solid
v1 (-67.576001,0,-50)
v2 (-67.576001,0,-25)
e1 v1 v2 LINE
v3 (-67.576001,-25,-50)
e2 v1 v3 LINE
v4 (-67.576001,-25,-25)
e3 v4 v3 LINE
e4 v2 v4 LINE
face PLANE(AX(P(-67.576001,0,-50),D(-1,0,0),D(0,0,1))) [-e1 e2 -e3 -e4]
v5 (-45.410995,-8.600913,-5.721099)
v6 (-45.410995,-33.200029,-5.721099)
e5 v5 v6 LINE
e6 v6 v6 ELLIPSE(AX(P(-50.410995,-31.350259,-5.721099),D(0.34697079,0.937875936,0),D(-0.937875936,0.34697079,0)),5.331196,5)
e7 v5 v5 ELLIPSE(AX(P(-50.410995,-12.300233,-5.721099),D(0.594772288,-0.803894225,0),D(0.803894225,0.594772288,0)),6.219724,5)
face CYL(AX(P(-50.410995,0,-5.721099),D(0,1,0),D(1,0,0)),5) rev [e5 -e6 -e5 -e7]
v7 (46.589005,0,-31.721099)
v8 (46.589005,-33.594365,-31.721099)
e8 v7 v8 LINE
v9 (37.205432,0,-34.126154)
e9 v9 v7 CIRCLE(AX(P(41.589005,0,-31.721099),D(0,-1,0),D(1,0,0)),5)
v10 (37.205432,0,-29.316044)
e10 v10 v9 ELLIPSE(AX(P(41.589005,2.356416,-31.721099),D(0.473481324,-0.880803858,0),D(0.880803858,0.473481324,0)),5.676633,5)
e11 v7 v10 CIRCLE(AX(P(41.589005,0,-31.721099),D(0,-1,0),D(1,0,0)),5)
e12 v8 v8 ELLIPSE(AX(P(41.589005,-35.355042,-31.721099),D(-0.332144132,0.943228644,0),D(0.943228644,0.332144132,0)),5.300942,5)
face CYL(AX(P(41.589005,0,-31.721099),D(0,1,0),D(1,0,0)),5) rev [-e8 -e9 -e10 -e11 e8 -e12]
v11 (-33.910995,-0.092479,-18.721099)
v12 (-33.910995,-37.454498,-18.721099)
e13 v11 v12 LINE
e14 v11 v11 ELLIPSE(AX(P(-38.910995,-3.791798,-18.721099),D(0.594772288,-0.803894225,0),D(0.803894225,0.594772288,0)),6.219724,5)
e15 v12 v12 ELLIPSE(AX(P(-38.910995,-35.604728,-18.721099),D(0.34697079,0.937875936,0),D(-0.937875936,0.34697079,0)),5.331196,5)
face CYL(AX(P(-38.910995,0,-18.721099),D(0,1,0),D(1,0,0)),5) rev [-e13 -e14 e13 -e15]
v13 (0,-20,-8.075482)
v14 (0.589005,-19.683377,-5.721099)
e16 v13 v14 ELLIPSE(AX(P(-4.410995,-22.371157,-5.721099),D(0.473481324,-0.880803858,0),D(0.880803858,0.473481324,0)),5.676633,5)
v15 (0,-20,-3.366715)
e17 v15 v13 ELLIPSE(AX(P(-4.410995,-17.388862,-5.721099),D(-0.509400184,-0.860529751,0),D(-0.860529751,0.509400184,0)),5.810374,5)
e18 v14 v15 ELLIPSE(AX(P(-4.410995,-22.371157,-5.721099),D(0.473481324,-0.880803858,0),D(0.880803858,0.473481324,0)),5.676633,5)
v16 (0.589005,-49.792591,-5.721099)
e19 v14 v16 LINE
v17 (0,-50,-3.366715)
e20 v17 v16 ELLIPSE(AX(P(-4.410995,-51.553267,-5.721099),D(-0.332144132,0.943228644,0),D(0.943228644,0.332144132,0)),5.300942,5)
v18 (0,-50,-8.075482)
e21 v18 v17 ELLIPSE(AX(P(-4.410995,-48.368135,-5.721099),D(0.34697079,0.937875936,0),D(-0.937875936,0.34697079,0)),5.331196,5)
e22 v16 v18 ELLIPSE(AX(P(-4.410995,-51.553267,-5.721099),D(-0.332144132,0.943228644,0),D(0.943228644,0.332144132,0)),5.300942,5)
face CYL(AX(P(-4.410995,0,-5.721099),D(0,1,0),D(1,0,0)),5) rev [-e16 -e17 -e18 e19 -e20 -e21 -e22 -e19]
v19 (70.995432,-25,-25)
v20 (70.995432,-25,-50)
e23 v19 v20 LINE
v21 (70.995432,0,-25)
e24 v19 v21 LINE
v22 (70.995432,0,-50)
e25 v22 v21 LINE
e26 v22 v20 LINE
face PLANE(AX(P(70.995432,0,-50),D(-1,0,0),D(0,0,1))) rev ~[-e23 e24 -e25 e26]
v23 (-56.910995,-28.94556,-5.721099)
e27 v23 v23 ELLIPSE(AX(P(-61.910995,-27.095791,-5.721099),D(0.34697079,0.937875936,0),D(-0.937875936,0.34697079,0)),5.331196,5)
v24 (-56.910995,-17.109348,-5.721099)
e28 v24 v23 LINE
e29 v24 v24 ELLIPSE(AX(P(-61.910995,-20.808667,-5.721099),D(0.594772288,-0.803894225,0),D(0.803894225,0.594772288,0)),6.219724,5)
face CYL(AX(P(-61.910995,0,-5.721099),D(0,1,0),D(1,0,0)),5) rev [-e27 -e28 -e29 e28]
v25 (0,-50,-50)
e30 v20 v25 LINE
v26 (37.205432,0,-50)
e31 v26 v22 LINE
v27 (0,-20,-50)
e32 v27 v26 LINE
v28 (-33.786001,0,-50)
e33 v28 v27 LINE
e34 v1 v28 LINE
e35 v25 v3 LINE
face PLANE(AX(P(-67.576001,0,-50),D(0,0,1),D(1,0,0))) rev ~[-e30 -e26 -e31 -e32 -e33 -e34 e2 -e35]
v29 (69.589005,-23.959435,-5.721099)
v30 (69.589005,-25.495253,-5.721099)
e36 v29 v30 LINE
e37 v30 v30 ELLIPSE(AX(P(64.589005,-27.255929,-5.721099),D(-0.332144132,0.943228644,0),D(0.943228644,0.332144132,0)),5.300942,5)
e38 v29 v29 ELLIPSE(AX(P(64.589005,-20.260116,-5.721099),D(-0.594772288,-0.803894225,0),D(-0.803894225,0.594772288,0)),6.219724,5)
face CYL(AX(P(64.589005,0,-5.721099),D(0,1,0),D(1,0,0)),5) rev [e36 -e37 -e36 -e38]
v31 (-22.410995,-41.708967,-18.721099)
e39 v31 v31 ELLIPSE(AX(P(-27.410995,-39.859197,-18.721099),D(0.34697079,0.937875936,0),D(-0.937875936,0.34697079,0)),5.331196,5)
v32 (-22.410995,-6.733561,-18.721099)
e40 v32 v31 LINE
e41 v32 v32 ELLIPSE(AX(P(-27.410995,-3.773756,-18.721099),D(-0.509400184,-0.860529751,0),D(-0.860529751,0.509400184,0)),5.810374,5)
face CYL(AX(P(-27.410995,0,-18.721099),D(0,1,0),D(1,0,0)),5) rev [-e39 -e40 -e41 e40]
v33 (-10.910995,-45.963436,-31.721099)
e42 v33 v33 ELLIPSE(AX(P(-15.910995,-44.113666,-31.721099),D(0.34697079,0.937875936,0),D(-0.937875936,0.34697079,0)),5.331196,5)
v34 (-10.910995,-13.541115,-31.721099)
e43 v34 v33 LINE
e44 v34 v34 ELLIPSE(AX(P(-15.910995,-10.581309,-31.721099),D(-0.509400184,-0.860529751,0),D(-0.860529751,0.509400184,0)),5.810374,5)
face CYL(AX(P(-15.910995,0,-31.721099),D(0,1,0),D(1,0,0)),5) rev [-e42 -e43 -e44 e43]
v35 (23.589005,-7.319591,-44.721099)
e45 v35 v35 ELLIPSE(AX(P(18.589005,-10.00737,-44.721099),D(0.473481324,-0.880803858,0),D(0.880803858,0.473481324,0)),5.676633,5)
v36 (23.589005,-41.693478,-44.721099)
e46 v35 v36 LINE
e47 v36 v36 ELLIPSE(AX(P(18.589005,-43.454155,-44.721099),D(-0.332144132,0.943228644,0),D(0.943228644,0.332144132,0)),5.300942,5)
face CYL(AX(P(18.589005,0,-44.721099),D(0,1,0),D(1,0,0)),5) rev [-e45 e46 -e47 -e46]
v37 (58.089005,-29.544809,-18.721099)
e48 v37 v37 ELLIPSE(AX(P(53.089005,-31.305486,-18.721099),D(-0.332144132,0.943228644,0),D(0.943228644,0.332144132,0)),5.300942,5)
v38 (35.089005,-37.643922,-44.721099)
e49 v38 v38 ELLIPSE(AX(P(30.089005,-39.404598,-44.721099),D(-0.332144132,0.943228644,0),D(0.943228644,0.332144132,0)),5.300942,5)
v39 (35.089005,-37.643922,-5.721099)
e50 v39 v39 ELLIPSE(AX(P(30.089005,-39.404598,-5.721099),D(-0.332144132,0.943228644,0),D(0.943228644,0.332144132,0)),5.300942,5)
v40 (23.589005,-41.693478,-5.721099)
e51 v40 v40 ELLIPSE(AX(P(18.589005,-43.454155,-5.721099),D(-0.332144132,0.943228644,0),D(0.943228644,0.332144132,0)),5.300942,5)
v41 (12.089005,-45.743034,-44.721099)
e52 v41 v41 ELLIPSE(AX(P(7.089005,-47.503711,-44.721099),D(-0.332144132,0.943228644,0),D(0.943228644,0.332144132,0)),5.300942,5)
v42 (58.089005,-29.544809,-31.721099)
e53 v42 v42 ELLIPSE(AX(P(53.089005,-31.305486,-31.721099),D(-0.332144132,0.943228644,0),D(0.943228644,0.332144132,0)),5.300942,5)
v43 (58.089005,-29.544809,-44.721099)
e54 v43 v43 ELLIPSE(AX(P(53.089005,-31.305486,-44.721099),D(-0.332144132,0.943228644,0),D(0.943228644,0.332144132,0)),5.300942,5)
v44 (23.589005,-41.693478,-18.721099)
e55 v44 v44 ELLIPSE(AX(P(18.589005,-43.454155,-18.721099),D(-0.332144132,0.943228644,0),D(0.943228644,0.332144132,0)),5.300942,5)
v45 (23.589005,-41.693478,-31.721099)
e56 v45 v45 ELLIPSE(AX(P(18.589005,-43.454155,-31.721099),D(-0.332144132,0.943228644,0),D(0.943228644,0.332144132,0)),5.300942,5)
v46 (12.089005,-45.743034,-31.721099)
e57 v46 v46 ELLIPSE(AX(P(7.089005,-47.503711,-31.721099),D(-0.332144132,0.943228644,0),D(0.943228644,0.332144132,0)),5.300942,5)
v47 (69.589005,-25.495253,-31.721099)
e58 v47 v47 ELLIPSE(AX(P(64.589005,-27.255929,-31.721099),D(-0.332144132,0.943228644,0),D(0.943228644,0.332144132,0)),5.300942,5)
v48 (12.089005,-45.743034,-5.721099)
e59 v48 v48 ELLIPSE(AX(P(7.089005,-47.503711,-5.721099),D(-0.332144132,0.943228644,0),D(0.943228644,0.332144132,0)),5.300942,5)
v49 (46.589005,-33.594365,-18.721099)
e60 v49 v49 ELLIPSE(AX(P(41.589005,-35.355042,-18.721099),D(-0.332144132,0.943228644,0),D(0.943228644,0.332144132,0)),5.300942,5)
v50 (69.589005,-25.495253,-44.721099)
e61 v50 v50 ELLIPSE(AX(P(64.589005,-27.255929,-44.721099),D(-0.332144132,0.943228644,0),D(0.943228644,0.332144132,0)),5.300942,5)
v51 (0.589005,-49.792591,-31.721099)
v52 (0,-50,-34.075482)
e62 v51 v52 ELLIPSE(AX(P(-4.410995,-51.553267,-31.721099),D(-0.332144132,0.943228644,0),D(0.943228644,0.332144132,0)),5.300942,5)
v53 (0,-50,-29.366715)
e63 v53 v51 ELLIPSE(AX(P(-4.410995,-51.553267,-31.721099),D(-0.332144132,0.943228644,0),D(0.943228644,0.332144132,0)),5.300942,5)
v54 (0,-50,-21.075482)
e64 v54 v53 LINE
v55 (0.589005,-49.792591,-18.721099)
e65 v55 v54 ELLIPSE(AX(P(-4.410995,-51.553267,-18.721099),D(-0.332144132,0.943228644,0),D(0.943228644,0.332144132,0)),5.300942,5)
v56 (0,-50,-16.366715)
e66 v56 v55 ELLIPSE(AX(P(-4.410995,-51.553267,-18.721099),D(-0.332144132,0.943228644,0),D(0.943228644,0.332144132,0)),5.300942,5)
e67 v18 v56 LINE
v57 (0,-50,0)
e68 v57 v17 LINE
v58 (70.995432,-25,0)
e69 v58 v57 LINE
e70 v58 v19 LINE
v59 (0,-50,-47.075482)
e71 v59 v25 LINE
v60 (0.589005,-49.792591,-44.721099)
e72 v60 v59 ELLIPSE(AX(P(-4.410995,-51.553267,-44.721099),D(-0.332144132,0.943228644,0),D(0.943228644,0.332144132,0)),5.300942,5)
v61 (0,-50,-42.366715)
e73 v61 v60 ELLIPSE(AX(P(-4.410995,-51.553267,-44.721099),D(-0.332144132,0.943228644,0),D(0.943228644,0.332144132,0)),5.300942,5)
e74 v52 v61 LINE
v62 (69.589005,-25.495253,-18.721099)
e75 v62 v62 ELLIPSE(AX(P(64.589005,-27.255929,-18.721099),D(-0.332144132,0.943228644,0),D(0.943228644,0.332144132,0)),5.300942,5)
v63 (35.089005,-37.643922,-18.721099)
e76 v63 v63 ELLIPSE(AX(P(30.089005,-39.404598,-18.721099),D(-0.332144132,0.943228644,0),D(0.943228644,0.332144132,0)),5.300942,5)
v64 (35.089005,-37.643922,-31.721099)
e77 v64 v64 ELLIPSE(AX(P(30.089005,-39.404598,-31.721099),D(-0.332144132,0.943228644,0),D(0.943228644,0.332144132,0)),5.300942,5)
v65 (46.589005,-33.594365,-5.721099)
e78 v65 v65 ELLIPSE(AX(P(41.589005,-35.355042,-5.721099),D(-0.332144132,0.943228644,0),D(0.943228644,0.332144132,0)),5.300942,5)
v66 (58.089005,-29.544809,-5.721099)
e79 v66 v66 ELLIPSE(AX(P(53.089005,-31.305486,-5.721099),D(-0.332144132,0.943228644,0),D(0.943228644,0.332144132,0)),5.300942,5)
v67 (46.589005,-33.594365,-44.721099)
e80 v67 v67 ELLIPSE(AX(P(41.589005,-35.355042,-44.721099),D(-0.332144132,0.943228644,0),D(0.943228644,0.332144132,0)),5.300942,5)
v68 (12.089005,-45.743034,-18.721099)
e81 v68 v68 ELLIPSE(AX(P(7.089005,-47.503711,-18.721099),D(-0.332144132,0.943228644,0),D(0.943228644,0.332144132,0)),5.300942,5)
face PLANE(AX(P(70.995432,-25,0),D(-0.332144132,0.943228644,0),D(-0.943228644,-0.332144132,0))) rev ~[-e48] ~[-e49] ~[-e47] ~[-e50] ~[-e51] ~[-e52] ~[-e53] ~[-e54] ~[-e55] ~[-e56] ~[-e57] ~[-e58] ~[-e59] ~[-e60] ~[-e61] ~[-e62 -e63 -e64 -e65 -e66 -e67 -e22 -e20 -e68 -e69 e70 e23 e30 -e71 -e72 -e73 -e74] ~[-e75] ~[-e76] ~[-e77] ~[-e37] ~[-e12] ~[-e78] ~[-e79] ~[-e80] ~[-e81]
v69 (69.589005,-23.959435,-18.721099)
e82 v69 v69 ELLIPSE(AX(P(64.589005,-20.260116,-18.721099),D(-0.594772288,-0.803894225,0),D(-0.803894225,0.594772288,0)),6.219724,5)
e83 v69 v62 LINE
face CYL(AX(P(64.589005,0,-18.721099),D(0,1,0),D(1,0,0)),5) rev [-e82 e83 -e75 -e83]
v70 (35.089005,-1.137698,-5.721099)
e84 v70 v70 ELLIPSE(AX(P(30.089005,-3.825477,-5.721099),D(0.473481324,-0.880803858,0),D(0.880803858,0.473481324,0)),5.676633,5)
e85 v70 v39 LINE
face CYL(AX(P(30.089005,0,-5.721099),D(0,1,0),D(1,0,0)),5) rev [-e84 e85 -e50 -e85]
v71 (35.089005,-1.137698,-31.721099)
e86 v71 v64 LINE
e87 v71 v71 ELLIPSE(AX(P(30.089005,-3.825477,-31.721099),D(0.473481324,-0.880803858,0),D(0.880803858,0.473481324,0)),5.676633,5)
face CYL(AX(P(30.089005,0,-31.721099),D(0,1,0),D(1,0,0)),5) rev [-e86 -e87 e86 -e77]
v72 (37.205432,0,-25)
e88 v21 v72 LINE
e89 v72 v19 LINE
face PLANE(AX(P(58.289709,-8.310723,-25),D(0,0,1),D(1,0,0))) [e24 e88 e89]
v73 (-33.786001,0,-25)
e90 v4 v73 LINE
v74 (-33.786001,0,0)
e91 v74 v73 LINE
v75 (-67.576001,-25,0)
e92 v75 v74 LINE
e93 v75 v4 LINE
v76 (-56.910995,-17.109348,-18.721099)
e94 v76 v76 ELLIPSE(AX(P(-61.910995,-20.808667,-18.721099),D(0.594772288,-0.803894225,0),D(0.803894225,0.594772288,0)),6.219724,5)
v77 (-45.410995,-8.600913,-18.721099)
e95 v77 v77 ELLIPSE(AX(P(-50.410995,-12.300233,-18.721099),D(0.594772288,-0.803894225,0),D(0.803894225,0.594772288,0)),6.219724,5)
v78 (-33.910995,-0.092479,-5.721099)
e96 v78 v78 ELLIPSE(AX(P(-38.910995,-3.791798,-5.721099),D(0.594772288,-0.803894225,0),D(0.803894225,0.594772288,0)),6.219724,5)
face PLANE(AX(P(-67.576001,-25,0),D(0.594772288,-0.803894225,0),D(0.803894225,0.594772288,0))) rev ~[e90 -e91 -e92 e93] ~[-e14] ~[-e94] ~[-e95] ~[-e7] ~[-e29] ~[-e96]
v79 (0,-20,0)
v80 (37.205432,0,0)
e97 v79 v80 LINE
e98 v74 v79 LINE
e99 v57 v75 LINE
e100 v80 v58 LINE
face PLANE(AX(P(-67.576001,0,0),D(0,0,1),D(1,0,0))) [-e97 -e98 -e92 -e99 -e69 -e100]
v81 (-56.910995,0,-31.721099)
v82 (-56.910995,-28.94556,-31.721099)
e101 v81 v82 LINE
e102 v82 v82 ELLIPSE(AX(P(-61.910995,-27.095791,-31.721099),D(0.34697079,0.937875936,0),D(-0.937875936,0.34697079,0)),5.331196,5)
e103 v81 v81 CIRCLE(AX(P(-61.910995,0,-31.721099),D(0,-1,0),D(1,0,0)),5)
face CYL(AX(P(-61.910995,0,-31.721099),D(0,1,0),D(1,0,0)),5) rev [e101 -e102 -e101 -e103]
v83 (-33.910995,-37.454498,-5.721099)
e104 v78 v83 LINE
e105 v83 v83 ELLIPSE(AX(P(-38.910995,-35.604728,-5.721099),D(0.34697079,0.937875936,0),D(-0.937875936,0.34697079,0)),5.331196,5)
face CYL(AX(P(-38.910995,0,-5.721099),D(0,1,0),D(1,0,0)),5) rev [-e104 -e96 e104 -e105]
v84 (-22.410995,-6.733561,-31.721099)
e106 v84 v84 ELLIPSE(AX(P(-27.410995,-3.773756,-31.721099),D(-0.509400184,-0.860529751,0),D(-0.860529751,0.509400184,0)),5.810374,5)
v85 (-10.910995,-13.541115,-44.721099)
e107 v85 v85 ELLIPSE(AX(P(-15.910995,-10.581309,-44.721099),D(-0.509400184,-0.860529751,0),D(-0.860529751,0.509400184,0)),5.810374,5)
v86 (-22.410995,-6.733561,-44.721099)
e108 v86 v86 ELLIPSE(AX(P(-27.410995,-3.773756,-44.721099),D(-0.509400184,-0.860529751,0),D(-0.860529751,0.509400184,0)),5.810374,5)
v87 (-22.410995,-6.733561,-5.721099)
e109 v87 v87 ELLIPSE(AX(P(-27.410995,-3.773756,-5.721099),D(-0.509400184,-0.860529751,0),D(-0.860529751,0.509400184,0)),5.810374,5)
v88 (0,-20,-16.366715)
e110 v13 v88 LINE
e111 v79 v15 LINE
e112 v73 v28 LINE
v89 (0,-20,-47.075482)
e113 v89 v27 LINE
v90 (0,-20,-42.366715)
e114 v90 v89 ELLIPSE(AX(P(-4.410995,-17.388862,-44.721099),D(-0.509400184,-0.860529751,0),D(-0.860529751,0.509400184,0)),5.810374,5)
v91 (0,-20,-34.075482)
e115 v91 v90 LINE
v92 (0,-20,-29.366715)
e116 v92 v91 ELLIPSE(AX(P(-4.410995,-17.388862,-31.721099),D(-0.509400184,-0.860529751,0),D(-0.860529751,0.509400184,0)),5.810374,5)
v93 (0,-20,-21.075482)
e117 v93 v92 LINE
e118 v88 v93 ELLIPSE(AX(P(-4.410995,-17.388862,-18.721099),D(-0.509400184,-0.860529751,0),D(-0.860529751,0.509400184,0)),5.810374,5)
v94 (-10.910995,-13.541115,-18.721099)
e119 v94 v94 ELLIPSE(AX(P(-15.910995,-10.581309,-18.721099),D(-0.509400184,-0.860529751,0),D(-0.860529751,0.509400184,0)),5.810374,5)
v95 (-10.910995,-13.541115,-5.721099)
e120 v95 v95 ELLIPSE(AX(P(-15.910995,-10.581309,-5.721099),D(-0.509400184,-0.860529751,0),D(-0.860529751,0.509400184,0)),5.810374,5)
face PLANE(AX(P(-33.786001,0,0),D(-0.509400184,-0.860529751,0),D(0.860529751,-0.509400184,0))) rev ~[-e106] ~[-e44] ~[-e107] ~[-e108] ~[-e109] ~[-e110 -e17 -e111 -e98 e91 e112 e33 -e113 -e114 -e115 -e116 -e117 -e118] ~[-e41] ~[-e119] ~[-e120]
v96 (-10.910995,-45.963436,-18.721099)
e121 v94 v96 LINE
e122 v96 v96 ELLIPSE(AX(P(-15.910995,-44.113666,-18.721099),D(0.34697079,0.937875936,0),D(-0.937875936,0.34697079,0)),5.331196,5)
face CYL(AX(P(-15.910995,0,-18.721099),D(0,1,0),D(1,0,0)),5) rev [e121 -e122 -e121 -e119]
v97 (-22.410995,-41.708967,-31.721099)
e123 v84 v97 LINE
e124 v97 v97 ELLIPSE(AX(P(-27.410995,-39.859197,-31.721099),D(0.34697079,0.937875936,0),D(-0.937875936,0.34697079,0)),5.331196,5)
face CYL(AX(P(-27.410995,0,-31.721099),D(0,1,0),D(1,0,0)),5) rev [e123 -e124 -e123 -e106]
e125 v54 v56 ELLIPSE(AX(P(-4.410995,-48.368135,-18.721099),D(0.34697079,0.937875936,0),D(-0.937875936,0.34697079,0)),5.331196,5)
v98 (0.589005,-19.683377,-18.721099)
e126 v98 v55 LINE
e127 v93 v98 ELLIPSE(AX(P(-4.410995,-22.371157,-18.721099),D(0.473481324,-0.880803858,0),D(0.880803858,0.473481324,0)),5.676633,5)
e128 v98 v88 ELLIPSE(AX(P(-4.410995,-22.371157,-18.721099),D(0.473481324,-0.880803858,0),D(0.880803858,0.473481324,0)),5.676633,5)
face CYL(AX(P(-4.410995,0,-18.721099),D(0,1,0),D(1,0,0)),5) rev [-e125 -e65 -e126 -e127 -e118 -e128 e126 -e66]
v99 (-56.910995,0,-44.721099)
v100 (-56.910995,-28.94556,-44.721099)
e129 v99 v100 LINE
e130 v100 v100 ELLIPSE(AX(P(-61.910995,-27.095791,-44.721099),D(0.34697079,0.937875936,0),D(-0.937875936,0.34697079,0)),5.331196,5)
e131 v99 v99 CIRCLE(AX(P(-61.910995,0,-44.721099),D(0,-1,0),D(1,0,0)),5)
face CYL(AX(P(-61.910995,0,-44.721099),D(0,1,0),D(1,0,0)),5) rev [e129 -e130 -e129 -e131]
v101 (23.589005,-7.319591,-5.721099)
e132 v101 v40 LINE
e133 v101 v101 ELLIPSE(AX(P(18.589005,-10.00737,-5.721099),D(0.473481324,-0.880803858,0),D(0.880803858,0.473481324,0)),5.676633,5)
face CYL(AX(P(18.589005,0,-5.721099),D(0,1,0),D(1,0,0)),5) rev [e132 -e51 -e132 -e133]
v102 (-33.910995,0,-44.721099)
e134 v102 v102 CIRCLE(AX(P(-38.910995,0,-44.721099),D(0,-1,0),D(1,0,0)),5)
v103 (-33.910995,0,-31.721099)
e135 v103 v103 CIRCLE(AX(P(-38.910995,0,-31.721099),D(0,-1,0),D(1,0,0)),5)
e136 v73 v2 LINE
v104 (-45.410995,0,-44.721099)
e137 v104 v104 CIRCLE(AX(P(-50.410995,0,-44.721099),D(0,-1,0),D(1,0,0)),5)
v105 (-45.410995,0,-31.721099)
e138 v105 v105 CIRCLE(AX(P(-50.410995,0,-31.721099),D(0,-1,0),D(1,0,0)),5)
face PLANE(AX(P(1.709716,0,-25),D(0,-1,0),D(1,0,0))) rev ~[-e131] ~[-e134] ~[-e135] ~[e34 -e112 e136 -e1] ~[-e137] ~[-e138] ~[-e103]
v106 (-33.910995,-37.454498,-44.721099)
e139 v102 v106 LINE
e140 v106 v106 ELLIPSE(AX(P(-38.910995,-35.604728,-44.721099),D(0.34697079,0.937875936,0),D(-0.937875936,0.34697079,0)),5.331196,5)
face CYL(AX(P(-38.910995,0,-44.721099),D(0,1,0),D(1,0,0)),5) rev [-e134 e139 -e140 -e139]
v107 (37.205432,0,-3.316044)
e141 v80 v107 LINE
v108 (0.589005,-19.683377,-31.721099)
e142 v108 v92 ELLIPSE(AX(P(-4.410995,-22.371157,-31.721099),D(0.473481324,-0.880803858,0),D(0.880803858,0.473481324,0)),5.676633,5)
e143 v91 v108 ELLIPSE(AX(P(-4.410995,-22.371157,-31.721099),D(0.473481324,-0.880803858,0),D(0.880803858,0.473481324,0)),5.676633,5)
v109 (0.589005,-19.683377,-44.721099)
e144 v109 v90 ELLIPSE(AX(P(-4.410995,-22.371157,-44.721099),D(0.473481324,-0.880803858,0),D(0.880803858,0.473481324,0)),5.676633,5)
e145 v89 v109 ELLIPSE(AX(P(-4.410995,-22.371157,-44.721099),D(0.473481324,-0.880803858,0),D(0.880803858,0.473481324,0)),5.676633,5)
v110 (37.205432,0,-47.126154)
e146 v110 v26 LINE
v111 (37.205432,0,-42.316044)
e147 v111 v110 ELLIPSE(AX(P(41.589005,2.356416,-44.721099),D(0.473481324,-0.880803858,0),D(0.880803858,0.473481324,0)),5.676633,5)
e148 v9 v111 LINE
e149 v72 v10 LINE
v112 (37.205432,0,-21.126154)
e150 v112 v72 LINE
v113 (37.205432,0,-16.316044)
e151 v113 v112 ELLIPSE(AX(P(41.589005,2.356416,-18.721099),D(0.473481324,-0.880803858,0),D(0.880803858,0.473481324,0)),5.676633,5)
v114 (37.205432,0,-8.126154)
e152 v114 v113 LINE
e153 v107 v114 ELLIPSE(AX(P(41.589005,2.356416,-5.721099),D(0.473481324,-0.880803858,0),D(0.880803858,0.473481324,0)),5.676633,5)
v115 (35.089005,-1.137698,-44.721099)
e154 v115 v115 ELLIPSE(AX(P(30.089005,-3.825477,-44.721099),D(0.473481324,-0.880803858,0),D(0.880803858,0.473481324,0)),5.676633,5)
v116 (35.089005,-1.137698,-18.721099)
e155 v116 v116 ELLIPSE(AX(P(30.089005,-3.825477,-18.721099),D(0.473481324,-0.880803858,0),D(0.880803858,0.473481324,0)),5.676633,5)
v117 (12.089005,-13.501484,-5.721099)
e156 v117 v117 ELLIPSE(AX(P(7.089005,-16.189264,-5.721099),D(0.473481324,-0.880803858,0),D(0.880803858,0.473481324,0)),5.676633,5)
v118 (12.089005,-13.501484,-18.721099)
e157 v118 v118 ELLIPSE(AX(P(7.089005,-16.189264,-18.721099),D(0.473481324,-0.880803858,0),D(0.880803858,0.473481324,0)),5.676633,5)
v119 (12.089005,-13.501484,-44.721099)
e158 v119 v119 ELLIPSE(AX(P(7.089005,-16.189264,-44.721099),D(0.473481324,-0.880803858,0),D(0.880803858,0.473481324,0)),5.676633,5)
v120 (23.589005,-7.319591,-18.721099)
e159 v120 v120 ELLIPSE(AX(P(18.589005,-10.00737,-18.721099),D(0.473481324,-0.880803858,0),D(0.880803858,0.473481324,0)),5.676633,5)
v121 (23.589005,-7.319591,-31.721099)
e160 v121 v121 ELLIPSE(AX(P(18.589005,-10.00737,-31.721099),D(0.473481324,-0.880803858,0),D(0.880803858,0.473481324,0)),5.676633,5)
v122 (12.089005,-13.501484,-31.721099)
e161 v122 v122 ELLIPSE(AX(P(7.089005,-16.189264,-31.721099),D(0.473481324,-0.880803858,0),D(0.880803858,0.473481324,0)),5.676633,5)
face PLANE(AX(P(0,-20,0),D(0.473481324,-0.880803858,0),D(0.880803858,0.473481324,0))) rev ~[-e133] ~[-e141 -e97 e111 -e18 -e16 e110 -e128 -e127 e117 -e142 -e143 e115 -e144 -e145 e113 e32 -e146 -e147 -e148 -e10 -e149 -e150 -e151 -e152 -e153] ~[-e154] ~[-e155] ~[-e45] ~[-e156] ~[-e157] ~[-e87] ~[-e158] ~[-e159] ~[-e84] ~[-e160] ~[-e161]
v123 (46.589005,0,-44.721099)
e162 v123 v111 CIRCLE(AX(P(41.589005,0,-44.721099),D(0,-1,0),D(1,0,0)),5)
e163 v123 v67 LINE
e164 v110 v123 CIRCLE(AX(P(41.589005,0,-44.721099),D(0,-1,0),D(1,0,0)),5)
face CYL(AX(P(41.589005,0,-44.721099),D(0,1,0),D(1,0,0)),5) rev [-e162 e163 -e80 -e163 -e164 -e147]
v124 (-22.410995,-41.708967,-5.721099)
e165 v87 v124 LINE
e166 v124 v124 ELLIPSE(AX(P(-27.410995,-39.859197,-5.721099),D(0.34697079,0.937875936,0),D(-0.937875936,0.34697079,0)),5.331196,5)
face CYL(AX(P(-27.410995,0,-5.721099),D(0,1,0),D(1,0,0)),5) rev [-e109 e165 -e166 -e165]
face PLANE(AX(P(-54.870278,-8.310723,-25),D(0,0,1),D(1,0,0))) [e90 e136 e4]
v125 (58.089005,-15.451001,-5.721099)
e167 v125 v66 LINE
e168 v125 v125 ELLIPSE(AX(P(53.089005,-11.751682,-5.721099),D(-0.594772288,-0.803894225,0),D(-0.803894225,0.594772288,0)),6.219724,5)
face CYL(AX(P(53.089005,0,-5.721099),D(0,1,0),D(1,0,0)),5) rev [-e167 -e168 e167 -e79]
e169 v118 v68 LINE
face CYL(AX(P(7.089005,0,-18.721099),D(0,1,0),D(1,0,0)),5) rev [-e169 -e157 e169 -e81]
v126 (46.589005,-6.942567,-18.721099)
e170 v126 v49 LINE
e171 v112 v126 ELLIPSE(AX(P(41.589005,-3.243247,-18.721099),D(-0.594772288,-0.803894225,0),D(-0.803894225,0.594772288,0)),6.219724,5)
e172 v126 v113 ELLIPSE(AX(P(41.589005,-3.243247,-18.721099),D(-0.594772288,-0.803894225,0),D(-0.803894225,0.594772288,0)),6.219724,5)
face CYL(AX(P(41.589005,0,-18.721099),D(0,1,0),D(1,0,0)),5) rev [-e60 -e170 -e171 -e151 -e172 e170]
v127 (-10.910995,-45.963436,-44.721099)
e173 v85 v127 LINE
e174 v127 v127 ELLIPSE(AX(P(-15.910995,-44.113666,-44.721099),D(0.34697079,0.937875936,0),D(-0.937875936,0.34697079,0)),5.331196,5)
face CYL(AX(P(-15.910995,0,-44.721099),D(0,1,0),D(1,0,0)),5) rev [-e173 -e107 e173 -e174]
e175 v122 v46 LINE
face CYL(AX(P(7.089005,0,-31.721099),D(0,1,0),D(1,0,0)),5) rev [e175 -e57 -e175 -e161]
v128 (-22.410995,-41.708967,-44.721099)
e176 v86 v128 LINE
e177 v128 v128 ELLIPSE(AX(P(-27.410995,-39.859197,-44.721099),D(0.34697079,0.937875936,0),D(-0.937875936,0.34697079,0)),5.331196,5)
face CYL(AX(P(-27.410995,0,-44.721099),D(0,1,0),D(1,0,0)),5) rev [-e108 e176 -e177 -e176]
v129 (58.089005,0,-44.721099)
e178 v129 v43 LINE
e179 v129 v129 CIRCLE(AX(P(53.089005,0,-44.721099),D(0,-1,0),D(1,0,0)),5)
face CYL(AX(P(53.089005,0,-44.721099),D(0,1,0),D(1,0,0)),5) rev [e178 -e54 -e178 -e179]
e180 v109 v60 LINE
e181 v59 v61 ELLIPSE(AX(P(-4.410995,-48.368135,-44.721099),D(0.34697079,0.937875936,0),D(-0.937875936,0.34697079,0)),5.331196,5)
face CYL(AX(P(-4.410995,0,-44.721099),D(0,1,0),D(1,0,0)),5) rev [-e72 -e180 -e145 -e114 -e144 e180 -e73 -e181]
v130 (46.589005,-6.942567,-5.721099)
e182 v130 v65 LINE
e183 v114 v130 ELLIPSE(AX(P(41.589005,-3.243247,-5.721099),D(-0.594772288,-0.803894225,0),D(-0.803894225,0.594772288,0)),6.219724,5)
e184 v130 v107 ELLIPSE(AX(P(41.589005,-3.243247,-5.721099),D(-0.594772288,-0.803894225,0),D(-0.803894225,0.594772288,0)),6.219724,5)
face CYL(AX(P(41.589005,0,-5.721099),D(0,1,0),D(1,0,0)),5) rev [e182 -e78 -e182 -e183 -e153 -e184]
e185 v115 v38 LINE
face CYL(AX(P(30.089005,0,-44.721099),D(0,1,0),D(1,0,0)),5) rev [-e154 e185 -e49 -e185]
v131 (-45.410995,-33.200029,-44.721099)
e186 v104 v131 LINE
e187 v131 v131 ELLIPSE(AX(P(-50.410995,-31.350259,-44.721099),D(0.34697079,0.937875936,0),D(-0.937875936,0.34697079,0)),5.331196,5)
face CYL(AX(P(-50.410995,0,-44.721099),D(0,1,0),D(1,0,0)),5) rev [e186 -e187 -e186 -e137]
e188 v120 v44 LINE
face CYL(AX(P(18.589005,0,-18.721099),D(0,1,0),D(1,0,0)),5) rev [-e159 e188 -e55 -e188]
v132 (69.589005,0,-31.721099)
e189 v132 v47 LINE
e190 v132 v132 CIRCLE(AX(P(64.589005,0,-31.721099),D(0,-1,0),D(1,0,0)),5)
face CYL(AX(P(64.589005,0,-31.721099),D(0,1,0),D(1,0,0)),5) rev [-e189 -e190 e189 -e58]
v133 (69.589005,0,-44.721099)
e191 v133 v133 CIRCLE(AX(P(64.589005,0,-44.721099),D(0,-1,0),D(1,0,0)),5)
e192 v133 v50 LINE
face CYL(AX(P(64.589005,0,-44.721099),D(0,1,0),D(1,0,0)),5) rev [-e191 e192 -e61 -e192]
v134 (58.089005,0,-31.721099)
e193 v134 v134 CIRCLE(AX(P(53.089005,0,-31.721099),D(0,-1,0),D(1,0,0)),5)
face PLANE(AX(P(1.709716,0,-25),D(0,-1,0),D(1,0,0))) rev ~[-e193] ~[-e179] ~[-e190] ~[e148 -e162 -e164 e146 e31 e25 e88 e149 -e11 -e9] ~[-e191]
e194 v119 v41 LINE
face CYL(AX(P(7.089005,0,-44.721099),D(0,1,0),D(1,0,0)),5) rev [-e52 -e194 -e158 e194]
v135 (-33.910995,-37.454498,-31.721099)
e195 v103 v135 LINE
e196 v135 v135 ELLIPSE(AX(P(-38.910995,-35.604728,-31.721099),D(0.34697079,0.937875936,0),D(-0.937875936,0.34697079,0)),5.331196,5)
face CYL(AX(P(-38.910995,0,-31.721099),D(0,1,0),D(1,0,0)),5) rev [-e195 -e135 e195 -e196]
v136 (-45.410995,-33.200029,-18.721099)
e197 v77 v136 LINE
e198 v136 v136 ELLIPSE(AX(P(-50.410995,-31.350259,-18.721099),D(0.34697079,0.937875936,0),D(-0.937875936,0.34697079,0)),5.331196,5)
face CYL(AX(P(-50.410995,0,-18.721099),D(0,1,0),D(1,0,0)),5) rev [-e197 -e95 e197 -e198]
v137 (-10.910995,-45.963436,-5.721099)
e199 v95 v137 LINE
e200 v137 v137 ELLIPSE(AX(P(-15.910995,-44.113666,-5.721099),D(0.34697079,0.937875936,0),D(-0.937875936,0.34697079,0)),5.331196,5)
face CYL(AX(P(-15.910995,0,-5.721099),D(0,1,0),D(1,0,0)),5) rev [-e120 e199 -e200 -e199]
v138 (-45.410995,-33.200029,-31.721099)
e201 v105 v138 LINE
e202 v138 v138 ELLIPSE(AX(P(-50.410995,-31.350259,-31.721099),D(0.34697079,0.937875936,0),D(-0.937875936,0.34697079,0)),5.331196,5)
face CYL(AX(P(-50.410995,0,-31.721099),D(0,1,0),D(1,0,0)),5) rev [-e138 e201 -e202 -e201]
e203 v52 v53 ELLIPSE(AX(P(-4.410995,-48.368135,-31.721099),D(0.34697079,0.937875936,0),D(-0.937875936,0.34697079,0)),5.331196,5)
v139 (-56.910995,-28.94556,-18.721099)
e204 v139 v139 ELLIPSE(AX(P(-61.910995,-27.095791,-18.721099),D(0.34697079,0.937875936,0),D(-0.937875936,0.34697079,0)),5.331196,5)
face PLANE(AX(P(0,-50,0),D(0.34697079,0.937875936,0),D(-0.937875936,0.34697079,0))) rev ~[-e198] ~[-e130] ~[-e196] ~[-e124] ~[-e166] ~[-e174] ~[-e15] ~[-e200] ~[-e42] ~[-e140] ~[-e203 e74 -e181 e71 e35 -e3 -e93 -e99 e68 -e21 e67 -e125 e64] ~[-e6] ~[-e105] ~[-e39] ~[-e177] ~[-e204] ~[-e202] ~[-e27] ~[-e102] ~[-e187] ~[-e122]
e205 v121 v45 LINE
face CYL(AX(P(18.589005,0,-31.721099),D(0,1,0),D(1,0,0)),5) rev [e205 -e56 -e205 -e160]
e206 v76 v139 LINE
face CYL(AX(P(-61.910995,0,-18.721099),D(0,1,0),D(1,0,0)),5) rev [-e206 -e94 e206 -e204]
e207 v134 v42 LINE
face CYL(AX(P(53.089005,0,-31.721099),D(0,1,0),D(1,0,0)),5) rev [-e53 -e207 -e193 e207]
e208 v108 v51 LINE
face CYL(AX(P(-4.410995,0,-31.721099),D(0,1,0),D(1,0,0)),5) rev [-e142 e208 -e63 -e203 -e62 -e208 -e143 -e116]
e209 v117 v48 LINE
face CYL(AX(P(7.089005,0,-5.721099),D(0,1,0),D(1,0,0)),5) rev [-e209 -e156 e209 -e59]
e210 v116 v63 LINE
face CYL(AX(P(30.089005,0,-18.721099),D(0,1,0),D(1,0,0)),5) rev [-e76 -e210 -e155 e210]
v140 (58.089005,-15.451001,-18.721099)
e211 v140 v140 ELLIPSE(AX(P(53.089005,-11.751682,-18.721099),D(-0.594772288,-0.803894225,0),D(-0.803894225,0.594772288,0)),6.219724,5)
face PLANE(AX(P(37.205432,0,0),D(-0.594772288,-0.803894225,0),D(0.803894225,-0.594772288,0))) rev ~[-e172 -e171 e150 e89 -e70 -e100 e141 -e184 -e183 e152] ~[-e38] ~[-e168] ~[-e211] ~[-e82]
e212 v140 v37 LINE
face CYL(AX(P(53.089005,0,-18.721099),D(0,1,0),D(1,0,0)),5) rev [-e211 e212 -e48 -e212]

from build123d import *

# Parameters (mm, degrees)
F0_W     = 138.5714327227
F0_H     = 50
F1_DEPTH = 50
F2_R     = 5
F3_DEPTH = 50.001
F5_DEPTH = 50.001
F7_DEPTH = 50.001
F9_DEPTH = 25


with BuildPart() as f1:
    # F0 (on Front) → F1 (new body)
    with BuildSketch(Plane.XZ):
        with Locations((1.709715571, -25)):
            Rectangle(F0_W, F0_H)
    extrude(amount=F1_DEPTH)

    # F2 (on face) → F3 (cut, through all)
    with BuildSketch(Plane.XZ):
        with Locations((-61.9109951626, -5.7210989713)):
            Circle(F2_R)
        with Locations((-61.9109951626, -18.7210989713)):
            Circle(F2_R)
        with Locations((-61.9109951626, -31.7210989713)):
            Circle(F2_R)
        with Locations((-61.9109951626, -44.7210989713)):
            Circle(F2_R)
        with Locations((-50.4109951626, -5.7210989713)):
            Circle(F2_R)
        with Locations((-50.4109951626, -18.7210989713)):
            Circle(F2_R)
        with Locations((-50.4109951626, -31.7210989713)):
            Circle(F2_R)
        with Locations((-50.4109951626, -44.7210989713)):
            Circle(F2_R)
        with Locations((-38.9109951626, -5.7210989713)):
            Circle(F2_R)
        with Locations((-38.9109951626, -18.7210989713)):
            Circle(F2_R)
        with Locations((-38.9109951626, -31.7210989713)):
            Circle(F2_R)
        with Locations((-38.9109951626, -44.7210989713)):
            Circle(F2_R)
        with Locations((-27.4109951626, -5.7210989713)):
            Circle(F2_R)
        with Locations((-27.4109951626, -18.7210989713)):
            Circle(F2_R)
        with Locations((-27.4109951626, -31.7210989713)):
            Circle(F2_R)
        with Locations((-27.4109951626, -44.7210989713)):
            Circle(F2_R)
        with Locations((-15.9109951626, -5.7210989713)):
            Circle(F2_R)
        with Locations((-15.9109951626, -18.7210989713)):
            Circle(F2_R)
        with Locations((-15.9109951626, -31.7210989713)):
            Circle(F2_R)
        with Locations((-15.9109951626, -44.7210989713)):
            Circle(F2_R)
        with Locations((-4.4109951626, -5.7210989713)):
            Circle(F2_R)
        with Locations((-4.4109951626, -18.7210989713)):
            Circle(F2_R)
        with Locations((-4.4109951626, -31.7210989713)):
            Circle(F2_R)
        with Locations((-4.4109951626, -44.7210989713)):
            Circle(F2_R)
        with Locations((7.0890048374, -5.7210989713)):
            Circle(F2_R)
        with Locations((7.0890048374, -18.7210989713)):
            Circle(F2_R)
        with Locations((7.0890048374, -31.7210989713)):
            Circle(F2_R)
        with Locations((7.0890048374, -44.7210989713)):
            Circle(F2_R)
        with Locations((18.5890048374, -5.7210989713)):
            Circle(F2_R)
        with Locations((18.5890048374, -18.7210989713)):
            Circle(F2_R)
        with Locations((18.5890048374, -31.7210989713)):
            Circle(F2_R)
        with Locations((18.5890048374, -44.7210989713)):
            Circle(F2_R)
        with Locations((30.0890048374, -5.7210989713)):
            Circle(F2_R)
        with Locations((30.0890048374, -18.7210989713)):
            Circle(F2_R)
        with Locations((30.0890048374, -31.7210989713)):
            Circle(F2_R)
        with Locations((30.0890048374, -44.7210989713)):
            Circle(F2_R)
        with Locations((41.5890048374, -5.7210989713)):
            Circle(F2_R)
        with Locations((41.5890048374, -18.7210989713)):
            Circle(F2_R)
        with Locations((41.5890048374, -31.7210989713)):
            Circle(F2_R)
        with Locations((41.5890048374, -44.7210989713)):
            Circle(F2_R)
        with Locations((53.0890048374, -5.7210989713)):
            Circle(F2_R)
        with Locations((53.0890048374, -18.7210989713)):
            Circle(F2_R)
        with Locations((53.0890048374, -31.7210989713)):
            Circle(F2_R)
        with Locations((53.0890048374, -44.7210989713)):
            Circle(F2_R)
        with Locations((64.5890048374, -5.7210989713)):
            Circle(F2_R)
        with Locations((64.5890048374, -18.7210989713)):
            Circle(F2_R)
        with Locations((64.5890048374, -31.7210989713)):
            Circle(F2_R)
        with Locations((64.5890048374, -44.7210989713)):
            Circle(F2_R)
    extrude(amount=F3_DEPTH, mode=Mode.SUBTRACT)

    # F4 (on face) → F5 (cut, through all)
    with BuildSketch(Plane.XY):
        Polygon((37.2054319323, 0), (-33.7860007904, 0), (0, -20), align=None)
    extrude(amount=-F5_DEPTH, mode=Mode.SUBTRACT)

    # F6 (on face) → F7 (cut, through all)
    with BuildSketch(Plane.XY):
        Polygon((0, -50), (-67.5760007904, -25), (-67.5760007904, -50), align=None)
        Polygon((70.9954319323, -25), (0, -50), (70.9954319323, -50), align=None)
    extrude(amount=-F7_DEPTH, mode=Mode.SUBTRACT)

    # F8 (on face) → F9 (cut)
    with BuildSketch(Plane.XY):
        Polygon((-67.5760007904, 0), (-67.5760007904, -25), (-33.7860007904, 0), align=None)
        Polygon((37.2054319323, 0), (70.9954319323, -25), (70.9954319323, 0), (39.7841334343, 0), align=None)
    extrude(amount=-F9_DEPTH, mode=Mode.SUBTRACT)


solid = f1.part
